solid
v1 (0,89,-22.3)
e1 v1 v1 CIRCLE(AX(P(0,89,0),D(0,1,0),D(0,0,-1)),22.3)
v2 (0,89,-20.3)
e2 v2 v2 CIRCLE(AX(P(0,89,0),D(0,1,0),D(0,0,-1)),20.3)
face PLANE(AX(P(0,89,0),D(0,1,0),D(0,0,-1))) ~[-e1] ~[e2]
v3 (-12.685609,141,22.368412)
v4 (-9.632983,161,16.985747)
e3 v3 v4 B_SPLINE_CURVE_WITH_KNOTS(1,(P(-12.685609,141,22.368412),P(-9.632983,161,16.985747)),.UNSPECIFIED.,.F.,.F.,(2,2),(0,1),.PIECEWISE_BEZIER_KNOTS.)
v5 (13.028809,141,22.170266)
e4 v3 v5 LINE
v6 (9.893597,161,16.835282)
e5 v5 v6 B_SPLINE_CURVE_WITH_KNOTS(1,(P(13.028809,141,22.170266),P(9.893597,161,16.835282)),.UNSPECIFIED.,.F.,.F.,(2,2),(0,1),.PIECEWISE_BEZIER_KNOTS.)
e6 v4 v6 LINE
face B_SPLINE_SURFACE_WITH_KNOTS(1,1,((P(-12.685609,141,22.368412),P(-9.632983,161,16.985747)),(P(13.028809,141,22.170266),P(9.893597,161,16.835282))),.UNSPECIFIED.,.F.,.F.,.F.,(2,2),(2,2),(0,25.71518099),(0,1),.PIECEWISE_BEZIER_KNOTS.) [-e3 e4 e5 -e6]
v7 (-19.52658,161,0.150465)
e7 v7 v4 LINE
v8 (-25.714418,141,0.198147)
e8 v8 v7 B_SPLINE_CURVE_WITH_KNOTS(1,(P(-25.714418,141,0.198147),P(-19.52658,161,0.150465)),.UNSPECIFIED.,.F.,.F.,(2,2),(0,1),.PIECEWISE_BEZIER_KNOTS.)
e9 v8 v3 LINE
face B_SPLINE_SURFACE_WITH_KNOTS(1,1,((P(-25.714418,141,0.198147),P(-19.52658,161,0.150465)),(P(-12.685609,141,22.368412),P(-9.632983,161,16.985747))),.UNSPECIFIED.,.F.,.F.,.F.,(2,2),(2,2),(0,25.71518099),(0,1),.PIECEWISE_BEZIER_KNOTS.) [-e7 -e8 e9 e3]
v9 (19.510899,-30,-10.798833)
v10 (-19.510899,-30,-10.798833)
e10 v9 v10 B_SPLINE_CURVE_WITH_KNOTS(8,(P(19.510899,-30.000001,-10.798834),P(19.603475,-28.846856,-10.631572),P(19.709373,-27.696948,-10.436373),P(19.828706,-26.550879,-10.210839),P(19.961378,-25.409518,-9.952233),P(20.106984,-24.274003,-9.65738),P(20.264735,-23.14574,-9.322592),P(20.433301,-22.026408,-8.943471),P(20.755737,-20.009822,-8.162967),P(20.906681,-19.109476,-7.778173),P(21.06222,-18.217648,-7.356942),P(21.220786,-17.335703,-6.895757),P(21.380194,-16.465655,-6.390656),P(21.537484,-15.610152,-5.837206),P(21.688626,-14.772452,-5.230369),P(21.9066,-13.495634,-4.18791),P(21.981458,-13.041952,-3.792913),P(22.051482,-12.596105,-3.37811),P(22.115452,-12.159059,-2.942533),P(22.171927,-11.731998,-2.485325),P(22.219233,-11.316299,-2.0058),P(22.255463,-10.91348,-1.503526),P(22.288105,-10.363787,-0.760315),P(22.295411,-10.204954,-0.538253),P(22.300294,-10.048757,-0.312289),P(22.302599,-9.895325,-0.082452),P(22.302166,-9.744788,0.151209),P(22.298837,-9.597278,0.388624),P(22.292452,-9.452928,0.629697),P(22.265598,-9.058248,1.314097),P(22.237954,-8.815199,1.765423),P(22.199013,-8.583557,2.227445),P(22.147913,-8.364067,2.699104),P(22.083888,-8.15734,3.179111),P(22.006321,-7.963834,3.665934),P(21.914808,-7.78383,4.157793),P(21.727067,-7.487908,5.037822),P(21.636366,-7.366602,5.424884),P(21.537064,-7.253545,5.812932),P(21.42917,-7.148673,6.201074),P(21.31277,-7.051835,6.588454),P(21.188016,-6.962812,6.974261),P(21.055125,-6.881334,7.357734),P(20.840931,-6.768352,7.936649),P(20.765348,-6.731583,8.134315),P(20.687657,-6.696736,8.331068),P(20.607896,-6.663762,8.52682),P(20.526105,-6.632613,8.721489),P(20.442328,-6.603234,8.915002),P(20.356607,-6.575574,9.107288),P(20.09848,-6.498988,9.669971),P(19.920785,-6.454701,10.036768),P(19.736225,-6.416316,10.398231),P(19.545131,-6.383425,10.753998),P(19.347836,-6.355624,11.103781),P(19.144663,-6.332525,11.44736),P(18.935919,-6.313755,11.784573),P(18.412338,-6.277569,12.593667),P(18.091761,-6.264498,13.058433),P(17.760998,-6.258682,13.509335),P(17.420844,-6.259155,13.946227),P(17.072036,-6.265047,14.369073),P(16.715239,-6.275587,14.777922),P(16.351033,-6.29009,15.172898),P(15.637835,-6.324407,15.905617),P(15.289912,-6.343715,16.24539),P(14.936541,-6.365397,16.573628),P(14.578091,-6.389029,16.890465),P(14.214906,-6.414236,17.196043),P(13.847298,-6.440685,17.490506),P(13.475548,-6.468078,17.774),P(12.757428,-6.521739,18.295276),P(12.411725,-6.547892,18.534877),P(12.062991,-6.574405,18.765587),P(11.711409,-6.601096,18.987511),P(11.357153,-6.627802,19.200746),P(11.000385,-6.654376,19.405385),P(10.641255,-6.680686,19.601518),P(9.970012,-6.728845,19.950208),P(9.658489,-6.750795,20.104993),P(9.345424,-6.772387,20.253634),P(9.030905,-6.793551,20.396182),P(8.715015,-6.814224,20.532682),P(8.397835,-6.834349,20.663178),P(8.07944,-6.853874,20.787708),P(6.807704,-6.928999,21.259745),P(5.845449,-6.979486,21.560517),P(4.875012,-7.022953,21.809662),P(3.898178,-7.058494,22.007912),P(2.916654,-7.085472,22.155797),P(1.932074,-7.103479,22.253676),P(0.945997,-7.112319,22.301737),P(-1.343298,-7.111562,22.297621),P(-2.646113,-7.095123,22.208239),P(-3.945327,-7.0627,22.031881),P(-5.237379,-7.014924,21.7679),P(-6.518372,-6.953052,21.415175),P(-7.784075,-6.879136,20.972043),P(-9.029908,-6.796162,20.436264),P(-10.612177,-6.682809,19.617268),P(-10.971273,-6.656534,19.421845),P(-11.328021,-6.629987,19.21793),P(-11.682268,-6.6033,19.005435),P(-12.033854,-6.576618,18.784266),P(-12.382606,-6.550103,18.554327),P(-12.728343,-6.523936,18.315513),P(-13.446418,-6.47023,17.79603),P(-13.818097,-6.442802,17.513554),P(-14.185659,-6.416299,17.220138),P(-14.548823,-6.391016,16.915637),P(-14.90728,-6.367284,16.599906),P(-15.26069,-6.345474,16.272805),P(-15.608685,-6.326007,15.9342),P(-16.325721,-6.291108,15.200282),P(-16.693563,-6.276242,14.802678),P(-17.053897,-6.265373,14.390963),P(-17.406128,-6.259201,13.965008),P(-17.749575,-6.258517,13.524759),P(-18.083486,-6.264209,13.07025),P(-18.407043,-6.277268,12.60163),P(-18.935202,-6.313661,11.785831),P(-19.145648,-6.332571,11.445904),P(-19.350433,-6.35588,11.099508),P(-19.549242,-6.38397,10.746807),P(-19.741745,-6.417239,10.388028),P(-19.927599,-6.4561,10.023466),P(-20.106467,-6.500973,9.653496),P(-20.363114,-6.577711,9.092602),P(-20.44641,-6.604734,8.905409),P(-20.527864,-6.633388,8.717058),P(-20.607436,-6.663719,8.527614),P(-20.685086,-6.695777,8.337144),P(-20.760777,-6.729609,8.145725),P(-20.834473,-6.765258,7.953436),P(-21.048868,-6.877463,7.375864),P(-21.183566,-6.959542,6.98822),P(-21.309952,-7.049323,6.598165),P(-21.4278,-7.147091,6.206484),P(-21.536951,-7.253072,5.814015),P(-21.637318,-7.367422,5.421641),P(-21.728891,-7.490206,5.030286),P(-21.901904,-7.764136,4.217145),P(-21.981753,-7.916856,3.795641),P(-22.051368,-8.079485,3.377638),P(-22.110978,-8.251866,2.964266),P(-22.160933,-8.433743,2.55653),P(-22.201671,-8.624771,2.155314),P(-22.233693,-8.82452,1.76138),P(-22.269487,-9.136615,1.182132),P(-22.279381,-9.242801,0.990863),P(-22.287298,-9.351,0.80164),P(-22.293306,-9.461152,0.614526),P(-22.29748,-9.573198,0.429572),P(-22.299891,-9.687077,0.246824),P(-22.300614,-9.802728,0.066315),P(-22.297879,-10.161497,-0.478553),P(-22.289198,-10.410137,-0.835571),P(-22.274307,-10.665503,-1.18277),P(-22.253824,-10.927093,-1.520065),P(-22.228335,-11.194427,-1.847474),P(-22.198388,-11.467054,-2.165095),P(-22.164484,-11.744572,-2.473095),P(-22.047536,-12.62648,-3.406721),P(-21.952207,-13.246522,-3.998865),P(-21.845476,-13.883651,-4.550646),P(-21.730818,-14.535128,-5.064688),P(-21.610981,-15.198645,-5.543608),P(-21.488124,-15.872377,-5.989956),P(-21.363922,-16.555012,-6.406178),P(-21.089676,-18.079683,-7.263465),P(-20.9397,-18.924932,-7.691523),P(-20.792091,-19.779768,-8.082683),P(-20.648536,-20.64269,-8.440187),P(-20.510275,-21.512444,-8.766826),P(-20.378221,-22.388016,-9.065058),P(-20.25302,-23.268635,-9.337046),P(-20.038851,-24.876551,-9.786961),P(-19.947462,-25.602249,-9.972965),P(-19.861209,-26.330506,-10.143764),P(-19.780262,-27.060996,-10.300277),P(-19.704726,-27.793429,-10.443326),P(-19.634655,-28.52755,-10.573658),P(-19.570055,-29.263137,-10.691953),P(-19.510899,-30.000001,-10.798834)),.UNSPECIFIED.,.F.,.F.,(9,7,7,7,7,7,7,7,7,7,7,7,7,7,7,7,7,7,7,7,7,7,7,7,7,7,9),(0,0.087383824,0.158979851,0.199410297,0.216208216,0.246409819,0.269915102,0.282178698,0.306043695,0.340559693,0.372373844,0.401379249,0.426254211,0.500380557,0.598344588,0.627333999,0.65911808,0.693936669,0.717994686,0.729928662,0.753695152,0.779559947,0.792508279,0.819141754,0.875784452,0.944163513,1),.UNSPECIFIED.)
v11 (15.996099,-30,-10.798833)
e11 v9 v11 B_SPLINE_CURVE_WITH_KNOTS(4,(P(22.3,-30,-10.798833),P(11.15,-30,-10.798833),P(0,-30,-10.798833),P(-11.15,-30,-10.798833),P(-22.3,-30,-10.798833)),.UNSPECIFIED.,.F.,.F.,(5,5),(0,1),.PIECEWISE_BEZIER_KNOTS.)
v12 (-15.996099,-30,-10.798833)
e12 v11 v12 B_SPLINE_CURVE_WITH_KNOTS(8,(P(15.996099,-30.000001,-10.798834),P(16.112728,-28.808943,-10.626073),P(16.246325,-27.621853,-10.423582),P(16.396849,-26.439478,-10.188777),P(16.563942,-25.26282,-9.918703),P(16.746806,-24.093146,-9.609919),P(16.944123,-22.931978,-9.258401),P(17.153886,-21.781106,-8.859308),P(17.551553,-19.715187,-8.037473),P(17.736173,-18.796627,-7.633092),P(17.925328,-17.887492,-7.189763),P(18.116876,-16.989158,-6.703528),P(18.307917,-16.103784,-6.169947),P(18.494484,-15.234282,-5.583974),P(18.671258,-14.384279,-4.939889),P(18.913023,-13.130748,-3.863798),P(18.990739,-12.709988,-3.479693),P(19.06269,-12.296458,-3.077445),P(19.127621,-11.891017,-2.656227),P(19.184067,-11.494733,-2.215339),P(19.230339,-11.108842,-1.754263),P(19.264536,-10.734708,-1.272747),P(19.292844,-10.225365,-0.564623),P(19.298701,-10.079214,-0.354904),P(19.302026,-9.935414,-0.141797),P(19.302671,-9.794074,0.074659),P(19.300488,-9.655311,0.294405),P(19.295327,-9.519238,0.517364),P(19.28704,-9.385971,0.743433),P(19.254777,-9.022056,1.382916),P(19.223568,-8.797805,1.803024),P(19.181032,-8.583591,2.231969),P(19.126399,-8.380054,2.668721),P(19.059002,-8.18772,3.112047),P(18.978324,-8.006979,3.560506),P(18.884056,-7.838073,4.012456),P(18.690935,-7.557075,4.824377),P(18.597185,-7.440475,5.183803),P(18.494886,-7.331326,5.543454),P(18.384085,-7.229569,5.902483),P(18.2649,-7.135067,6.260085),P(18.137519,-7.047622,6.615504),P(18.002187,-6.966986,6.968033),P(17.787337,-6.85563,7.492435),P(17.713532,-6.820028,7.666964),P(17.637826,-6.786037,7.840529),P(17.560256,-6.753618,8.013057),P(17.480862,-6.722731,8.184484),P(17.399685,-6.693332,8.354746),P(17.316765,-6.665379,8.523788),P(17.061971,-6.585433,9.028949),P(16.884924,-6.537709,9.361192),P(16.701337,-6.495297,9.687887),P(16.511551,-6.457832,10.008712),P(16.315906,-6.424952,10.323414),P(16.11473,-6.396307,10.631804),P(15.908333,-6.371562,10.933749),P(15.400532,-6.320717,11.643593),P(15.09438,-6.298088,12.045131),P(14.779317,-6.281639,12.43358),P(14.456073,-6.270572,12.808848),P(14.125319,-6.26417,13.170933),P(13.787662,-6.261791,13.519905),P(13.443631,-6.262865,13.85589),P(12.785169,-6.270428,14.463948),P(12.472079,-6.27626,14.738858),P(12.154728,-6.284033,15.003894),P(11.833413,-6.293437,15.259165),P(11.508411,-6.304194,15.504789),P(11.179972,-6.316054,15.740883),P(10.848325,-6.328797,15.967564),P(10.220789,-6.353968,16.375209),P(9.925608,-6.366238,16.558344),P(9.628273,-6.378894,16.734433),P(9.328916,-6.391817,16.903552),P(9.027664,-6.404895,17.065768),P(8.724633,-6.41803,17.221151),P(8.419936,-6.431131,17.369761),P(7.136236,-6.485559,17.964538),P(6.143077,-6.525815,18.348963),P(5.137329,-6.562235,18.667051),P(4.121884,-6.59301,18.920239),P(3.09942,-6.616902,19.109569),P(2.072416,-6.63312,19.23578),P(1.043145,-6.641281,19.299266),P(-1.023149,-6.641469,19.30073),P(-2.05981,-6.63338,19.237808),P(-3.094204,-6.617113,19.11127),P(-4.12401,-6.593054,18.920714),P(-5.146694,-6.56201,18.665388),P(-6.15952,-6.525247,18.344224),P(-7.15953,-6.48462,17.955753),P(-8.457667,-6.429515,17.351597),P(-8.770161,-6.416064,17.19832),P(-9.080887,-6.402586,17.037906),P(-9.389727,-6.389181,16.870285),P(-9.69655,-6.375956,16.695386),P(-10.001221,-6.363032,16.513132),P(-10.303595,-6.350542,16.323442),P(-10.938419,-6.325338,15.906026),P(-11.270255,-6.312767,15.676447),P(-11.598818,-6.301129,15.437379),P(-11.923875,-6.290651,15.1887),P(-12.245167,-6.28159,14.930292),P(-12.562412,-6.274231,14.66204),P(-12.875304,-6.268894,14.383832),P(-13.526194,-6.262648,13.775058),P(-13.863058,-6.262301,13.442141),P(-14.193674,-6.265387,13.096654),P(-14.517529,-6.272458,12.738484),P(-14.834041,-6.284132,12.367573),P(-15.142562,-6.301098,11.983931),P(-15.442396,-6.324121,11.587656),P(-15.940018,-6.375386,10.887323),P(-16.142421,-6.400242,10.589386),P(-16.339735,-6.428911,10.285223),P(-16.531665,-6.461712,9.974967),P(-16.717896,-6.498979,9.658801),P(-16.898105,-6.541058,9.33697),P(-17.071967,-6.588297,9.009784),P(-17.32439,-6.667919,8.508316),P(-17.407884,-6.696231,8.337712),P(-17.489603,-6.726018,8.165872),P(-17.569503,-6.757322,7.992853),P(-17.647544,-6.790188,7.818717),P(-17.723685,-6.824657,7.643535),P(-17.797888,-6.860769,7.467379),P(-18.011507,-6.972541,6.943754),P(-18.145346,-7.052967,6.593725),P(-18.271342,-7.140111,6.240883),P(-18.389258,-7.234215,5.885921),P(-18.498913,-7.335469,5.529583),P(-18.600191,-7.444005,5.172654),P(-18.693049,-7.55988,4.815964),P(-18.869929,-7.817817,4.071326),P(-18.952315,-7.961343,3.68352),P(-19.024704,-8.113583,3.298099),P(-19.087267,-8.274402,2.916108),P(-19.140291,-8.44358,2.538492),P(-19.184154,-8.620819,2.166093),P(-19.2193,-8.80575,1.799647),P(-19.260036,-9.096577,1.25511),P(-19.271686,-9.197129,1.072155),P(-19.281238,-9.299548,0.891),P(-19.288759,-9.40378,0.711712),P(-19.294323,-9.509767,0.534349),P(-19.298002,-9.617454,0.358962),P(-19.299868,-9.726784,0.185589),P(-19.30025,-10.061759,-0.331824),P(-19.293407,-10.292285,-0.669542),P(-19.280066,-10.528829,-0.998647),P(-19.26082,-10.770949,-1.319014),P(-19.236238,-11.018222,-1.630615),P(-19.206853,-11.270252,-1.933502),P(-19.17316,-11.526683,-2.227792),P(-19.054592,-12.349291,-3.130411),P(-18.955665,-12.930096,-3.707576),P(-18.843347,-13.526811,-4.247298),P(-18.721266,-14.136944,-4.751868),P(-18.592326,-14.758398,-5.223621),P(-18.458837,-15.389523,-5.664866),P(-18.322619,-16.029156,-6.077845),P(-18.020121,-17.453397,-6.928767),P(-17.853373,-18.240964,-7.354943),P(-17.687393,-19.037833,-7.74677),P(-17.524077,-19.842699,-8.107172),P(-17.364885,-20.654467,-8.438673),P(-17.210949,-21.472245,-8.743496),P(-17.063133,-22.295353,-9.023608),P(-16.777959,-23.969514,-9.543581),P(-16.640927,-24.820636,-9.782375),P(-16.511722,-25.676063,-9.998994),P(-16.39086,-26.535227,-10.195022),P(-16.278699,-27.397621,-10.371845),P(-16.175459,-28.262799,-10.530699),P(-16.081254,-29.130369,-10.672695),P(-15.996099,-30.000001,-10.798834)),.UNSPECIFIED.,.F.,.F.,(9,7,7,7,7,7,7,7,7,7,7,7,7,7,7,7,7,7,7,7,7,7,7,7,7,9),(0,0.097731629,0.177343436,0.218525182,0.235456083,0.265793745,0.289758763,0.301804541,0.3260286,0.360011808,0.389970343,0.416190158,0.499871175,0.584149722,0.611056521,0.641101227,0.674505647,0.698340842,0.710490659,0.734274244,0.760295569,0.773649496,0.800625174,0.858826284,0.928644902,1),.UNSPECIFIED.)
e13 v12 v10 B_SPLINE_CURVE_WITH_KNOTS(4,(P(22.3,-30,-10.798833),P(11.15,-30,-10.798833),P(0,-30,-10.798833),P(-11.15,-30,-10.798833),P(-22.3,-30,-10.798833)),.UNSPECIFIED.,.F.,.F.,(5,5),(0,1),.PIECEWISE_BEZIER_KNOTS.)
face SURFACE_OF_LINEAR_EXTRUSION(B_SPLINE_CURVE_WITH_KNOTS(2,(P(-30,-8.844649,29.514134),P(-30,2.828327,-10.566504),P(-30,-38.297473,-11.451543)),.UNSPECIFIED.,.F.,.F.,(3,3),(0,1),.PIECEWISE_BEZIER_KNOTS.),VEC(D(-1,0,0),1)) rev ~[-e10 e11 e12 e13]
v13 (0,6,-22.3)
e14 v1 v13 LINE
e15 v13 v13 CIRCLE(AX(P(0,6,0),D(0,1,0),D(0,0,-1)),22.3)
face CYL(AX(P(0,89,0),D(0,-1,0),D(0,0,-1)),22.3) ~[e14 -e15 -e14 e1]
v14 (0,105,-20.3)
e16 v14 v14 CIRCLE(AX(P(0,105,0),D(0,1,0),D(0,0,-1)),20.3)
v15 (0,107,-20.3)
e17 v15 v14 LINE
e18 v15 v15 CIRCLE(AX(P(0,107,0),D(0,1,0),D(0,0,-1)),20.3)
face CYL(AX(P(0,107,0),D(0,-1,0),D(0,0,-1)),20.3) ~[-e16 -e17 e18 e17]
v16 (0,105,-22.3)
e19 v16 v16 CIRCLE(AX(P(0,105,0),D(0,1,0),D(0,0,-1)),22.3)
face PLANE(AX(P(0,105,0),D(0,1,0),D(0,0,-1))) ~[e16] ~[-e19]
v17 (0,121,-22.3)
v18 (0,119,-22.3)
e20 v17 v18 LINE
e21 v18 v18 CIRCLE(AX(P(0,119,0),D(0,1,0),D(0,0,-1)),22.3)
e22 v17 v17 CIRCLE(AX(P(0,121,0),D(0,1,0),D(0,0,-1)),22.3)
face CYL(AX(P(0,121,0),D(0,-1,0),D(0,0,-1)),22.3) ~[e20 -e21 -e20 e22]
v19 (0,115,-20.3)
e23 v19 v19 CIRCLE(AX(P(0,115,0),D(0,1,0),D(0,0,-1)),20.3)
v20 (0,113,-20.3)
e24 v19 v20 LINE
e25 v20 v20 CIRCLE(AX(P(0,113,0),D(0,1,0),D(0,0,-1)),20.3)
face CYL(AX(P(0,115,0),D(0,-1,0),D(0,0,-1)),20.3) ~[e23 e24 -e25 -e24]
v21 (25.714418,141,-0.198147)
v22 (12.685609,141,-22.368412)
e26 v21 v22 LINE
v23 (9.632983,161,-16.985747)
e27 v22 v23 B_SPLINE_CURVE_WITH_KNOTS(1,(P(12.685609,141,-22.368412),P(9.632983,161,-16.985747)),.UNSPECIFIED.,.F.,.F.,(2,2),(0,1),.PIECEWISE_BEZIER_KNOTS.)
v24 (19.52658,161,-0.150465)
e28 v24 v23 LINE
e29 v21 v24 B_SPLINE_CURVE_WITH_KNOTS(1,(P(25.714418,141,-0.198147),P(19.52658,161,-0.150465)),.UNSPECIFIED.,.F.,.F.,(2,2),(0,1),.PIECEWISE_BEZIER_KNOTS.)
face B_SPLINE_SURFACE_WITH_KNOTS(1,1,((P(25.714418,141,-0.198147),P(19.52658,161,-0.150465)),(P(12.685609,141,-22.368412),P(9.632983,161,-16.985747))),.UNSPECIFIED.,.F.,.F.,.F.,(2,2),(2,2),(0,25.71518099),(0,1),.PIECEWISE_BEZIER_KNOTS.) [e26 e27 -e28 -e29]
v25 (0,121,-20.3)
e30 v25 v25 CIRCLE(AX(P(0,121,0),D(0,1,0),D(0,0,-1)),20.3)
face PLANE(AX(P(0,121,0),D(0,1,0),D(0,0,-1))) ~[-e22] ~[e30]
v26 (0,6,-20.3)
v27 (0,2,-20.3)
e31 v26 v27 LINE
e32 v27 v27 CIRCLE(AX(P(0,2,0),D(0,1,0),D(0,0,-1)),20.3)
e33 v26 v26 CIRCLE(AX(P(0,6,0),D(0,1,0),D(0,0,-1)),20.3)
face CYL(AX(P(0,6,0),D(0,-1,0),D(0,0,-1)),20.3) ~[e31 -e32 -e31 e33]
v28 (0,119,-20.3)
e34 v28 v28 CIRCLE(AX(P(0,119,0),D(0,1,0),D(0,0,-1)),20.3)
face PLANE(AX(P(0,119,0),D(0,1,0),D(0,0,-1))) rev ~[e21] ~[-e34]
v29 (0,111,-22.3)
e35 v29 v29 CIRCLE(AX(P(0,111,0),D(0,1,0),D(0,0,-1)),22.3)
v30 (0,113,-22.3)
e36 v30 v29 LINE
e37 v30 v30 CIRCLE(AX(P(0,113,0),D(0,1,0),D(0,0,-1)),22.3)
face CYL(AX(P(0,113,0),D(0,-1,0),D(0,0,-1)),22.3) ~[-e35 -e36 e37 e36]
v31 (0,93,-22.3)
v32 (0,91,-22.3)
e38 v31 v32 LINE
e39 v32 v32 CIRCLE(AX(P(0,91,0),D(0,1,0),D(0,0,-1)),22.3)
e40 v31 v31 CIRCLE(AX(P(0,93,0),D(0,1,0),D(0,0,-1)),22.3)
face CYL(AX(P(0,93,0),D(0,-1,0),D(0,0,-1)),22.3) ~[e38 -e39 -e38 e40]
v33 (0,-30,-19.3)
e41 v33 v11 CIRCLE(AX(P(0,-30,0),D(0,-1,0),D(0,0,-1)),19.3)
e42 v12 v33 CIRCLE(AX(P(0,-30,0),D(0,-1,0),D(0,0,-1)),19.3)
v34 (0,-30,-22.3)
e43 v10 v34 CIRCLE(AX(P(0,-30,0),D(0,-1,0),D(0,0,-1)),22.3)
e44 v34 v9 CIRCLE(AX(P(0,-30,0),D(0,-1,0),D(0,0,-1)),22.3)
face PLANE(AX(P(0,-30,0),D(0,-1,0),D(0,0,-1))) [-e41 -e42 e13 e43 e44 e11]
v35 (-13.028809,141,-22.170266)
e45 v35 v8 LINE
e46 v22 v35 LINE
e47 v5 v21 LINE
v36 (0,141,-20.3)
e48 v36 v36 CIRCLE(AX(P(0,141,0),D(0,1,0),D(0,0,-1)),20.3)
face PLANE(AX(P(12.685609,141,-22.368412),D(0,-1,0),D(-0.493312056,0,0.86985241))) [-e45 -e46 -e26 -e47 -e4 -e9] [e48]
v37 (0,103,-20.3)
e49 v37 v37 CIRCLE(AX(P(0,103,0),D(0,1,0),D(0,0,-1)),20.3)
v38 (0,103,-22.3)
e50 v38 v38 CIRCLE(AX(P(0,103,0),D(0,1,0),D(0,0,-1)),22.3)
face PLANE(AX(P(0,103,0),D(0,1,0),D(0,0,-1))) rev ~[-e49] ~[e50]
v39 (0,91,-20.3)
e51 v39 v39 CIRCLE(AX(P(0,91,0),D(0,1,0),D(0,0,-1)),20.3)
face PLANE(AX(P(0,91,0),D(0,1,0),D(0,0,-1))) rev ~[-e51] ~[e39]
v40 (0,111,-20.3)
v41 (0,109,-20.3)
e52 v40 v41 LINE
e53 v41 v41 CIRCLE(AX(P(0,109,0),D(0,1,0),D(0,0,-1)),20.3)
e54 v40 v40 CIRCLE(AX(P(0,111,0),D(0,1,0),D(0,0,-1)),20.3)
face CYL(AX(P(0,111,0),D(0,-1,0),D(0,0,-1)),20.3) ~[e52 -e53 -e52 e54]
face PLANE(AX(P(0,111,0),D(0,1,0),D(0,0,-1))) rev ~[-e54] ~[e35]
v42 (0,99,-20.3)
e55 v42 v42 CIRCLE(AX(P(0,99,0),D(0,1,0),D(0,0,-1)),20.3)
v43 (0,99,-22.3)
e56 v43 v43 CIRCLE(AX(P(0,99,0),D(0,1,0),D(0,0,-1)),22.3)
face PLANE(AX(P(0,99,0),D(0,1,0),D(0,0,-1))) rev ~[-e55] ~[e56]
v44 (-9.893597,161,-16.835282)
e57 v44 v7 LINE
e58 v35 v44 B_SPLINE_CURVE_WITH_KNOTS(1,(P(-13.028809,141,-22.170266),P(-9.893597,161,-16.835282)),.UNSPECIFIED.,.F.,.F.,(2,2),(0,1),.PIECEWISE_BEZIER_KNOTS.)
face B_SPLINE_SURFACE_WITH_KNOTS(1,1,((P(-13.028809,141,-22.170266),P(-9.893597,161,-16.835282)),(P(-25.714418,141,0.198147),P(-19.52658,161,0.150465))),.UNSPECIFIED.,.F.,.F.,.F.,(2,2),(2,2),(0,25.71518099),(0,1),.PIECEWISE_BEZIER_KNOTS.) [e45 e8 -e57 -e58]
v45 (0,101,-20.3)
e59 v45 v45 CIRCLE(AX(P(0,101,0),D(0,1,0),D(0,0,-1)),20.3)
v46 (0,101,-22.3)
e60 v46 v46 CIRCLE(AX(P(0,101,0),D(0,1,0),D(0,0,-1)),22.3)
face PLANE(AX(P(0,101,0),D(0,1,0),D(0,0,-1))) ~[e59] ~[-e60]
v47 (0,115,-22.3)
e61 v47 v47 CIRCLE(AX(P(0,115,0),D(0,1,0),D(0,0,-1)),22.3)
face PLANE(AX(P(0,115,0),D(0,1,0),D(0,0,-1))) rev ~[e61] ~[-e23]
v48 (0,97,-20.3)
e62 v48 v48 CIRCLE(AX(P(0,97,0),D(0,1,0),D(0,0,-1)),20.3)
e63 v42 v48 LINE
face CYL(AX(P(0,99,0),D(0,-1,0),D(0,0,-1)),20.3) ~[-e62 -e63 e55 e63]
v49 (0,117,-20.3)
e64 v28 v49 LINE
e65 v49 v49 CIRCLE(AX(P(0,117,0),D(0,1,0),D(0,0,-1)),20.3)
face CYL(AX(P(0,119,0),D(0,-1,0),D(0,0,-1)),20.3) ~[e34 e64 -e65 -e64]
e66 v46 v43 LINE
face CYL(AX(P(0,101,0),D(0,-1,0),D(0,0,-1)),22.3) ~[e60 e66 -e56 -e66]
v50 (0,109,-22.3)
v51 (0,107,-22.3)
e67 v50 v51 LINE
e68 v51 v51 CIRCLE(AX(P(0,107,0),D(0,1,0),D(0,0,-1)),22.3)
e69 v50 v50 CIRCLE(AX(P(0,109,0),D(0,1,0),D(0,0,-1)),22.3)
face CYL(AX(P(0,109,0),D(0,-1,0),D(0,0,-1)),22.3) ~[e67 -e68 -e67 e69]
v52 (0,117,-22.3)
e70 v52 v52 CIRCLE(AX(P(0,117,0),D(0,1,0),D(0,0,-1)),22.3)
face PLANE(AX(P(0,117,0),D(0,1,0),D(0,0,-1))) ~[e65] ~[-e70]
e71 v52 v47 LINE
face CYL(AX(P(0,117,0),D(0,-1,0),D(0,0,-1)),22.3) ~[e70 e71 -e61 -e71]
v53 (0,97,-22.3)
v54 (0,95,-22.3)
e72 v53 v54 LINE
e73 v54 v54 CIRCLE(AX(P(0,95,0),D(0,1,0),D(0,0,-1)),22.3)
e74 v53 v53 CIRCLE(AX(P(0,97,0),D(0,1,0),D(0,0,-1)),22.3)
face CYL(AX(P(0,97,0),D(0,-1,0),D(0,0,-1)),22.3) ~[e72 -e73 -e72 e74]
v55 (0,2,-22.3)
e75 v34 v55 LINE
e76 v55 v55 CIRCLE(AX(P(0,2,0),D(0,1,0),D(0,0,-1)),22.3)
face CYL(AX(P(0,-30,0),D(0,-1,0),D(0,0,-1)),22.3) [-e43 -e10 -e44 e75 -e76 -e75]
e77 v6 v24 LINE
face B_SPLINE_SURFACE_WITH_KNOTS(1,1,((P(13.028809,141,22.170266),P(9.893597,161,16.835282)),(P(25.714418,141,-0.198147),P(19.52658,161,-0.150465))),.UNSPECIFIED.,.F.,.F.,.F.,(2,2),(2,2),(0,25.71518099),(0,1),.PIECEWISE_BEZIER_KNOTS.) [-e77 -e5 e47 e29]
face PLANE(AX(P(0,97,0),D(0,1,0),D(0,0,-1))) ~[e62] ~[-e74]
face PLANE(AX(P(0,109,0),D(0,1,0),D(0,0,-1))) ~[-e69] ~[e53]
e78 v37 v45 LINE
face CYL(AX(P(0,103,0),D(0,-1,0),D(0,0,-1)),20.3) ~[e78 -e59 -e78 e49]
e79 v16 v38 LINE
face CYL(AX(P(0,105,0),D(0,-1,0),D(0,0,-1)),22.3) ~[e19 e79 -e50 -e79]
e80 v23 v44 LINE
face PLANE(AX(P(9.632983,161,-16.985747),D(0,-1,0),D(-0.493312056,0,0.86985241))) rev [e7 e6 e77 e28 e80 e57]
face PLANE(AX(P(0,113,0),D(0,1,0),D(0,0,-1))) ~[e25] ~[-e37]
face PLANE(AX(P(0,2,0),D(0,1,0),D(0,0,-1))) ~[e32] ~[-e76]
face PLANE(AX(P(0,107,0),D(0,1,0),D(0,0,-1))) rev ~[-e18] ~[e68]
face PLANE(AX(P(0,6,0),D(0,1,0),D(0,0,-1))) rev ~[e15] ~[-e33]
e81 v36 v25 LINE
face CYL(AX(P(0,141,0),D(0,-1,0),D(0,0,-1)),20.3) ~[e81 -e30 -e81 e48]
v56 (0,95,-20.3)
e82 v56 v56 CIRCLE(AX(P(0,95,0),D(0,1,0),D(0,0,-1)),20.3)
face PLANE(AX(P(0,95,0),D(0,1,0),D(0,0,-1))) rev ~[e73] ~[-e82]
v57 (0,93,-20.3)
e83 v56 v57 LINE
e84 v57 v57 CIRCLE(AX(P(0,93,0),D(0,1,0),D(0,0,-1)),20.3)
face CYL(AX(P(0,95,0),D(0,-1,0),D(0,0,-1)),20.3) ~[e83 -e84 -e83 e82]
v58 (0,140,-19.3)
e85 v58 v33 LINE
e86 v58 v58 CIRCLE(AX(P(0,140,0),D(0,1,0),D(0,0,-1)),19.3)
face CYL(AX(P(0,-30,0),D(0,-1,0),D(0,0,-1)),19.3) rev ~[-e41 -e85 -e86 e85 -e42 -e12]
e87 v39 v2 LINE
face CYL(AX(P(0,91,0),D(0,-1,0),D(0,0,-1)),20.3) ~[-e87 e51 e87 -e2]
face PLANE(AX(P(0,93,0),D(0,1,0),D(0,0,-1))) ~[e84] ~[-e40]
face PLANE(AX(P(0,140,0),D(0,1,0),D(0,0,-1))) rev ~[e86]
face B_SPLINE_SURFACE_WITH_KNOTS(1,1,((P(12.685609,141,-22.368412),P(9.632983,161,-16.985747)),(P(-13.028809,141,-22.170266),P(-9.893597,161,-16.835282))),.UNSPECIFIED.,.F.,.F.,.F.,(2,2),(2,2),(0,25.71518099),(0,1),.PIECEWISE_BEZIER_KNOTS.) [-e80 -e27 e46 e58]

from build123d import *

# Parameters (mm, degrees)
BOSS_EXTRUDE2_DEPTH     = 20
BOSS_EXTRUDE2_TAPER     = 15
BOSS_EXTRUDE3_START     = 30
SKETCH5_R               = 22.3
SKETCH5_R_2             = 19.3
BOSS_EXTRUDE3_DEPTH     = 30
CUT_EXTRUDE1_DEPTH      = 30
CUT_EXTRUDE1_DEPTH_BACK = 30


with BuildPart() as part:
    # Sketch2 → Revolve1 (revolve)
    with BuildSketch(Plane.XY):
        Polygon((-19.3, 0), (-19.3, 140), (0, 140), (0, 141), (-20.3, 141), (-20.3, 140), (-20.3, 121), (-22.3, 121), (-22.3, 119), (-20.3, 119), (-20.3, 117), (-22.3, 117), (-22.3, 115), (-20.3, 115), (-20.3, 113), (-22.3, 113), (-22.3, 111), (-20.3, 111), (-20.3, 109), (-22.3, 109), (-22.3, 107), (-20.3, 107), (-20.3, 105), (-22.3, 105), (-22.3, 103), (-20.3, 103), (-20.3, 101), (-22.3, 101), (-22.3, 99), (-20.3, 99), (-20.3, 97), (-22.3, 97), (-22.3, 95), (-20.3, 95), (-20.3, 93), (-22.3, 93), (-22.3, 91), (-20.3, 91), (-20.3, 89), (-22.3, 89), (-22.3, 6), (-20.3, 6), (-20.3, 2), (-22.3, 2), (-22.3, 0), (-20.3, 0), align=None)
    revolve(axis=Axis((0, 0, 0), (0, 1, 0)))

    # Sketch3 → Boss-Extrude2 (add)
    with BuildSketch(Plane(origin=(0, 141, 0), x_dir=(1, 0, 0), z_dir=(0, 1, 0))):
        Polygon((12.685608816, 22.368412154), (-13.02880876, 22.170265574), (-25.714417576, -0.19814658), (-12.685608816, -22.368412154), (13.02880876, -22.170265574), (25.714417576, 0.19814658), align=None)
    extrude(amount=BOSS_EXTRUDE2_DEPTH, taper=BOSS_EXTRUDE2_TAPER)

    # Sketch5 → Boss-Extrude3 (add)
    with BuildSketch(Plane.XZ.offset(BOSS_EXTRUDE3_START)):
        Circle(SKETCH5_R)
        Circle(SKETCH5_R_2, mode=Mode.SUBTRACT)
    extrude(amount=-BOSS_EXTRUDE3_DEPTH)

    # Sketch6 → Cut-Extrude1 (cut, two sides: drawn at the far end of the back side and taken through both)
    with BuildSketch(Plane(origin=(0, 0, 0), x_dir=(0, 0, -1), z_dir=(1, 0, 0)).offset(-CUT_EXTRUDE1_DEPTH_BACK)):
        with BuildLine():
            add(Edge.make_bspline(
                [(-29.514134147, -8.8446486), (10.566504281, 2.828326519), (11.451543422, -38.297473123)],
                knots=[0, 0, 0, 1, 1, 1], degree=2))
            add(Edge.make_bspline(
                [(-29.514134147, -8.8446486), (-38.265876715, -53.637701487), (11.451543422, -38.297473123)],
                knots=[0, 0, 0, 1, 1, 1], degree=2))
        make_face()
    extrude(amount=CUT_EXTRUDE1_DEPTH + CUT_EXTRUDE1_DEPTH_BACK, mode=Mode.SUBTRACT)


solid = part.part
